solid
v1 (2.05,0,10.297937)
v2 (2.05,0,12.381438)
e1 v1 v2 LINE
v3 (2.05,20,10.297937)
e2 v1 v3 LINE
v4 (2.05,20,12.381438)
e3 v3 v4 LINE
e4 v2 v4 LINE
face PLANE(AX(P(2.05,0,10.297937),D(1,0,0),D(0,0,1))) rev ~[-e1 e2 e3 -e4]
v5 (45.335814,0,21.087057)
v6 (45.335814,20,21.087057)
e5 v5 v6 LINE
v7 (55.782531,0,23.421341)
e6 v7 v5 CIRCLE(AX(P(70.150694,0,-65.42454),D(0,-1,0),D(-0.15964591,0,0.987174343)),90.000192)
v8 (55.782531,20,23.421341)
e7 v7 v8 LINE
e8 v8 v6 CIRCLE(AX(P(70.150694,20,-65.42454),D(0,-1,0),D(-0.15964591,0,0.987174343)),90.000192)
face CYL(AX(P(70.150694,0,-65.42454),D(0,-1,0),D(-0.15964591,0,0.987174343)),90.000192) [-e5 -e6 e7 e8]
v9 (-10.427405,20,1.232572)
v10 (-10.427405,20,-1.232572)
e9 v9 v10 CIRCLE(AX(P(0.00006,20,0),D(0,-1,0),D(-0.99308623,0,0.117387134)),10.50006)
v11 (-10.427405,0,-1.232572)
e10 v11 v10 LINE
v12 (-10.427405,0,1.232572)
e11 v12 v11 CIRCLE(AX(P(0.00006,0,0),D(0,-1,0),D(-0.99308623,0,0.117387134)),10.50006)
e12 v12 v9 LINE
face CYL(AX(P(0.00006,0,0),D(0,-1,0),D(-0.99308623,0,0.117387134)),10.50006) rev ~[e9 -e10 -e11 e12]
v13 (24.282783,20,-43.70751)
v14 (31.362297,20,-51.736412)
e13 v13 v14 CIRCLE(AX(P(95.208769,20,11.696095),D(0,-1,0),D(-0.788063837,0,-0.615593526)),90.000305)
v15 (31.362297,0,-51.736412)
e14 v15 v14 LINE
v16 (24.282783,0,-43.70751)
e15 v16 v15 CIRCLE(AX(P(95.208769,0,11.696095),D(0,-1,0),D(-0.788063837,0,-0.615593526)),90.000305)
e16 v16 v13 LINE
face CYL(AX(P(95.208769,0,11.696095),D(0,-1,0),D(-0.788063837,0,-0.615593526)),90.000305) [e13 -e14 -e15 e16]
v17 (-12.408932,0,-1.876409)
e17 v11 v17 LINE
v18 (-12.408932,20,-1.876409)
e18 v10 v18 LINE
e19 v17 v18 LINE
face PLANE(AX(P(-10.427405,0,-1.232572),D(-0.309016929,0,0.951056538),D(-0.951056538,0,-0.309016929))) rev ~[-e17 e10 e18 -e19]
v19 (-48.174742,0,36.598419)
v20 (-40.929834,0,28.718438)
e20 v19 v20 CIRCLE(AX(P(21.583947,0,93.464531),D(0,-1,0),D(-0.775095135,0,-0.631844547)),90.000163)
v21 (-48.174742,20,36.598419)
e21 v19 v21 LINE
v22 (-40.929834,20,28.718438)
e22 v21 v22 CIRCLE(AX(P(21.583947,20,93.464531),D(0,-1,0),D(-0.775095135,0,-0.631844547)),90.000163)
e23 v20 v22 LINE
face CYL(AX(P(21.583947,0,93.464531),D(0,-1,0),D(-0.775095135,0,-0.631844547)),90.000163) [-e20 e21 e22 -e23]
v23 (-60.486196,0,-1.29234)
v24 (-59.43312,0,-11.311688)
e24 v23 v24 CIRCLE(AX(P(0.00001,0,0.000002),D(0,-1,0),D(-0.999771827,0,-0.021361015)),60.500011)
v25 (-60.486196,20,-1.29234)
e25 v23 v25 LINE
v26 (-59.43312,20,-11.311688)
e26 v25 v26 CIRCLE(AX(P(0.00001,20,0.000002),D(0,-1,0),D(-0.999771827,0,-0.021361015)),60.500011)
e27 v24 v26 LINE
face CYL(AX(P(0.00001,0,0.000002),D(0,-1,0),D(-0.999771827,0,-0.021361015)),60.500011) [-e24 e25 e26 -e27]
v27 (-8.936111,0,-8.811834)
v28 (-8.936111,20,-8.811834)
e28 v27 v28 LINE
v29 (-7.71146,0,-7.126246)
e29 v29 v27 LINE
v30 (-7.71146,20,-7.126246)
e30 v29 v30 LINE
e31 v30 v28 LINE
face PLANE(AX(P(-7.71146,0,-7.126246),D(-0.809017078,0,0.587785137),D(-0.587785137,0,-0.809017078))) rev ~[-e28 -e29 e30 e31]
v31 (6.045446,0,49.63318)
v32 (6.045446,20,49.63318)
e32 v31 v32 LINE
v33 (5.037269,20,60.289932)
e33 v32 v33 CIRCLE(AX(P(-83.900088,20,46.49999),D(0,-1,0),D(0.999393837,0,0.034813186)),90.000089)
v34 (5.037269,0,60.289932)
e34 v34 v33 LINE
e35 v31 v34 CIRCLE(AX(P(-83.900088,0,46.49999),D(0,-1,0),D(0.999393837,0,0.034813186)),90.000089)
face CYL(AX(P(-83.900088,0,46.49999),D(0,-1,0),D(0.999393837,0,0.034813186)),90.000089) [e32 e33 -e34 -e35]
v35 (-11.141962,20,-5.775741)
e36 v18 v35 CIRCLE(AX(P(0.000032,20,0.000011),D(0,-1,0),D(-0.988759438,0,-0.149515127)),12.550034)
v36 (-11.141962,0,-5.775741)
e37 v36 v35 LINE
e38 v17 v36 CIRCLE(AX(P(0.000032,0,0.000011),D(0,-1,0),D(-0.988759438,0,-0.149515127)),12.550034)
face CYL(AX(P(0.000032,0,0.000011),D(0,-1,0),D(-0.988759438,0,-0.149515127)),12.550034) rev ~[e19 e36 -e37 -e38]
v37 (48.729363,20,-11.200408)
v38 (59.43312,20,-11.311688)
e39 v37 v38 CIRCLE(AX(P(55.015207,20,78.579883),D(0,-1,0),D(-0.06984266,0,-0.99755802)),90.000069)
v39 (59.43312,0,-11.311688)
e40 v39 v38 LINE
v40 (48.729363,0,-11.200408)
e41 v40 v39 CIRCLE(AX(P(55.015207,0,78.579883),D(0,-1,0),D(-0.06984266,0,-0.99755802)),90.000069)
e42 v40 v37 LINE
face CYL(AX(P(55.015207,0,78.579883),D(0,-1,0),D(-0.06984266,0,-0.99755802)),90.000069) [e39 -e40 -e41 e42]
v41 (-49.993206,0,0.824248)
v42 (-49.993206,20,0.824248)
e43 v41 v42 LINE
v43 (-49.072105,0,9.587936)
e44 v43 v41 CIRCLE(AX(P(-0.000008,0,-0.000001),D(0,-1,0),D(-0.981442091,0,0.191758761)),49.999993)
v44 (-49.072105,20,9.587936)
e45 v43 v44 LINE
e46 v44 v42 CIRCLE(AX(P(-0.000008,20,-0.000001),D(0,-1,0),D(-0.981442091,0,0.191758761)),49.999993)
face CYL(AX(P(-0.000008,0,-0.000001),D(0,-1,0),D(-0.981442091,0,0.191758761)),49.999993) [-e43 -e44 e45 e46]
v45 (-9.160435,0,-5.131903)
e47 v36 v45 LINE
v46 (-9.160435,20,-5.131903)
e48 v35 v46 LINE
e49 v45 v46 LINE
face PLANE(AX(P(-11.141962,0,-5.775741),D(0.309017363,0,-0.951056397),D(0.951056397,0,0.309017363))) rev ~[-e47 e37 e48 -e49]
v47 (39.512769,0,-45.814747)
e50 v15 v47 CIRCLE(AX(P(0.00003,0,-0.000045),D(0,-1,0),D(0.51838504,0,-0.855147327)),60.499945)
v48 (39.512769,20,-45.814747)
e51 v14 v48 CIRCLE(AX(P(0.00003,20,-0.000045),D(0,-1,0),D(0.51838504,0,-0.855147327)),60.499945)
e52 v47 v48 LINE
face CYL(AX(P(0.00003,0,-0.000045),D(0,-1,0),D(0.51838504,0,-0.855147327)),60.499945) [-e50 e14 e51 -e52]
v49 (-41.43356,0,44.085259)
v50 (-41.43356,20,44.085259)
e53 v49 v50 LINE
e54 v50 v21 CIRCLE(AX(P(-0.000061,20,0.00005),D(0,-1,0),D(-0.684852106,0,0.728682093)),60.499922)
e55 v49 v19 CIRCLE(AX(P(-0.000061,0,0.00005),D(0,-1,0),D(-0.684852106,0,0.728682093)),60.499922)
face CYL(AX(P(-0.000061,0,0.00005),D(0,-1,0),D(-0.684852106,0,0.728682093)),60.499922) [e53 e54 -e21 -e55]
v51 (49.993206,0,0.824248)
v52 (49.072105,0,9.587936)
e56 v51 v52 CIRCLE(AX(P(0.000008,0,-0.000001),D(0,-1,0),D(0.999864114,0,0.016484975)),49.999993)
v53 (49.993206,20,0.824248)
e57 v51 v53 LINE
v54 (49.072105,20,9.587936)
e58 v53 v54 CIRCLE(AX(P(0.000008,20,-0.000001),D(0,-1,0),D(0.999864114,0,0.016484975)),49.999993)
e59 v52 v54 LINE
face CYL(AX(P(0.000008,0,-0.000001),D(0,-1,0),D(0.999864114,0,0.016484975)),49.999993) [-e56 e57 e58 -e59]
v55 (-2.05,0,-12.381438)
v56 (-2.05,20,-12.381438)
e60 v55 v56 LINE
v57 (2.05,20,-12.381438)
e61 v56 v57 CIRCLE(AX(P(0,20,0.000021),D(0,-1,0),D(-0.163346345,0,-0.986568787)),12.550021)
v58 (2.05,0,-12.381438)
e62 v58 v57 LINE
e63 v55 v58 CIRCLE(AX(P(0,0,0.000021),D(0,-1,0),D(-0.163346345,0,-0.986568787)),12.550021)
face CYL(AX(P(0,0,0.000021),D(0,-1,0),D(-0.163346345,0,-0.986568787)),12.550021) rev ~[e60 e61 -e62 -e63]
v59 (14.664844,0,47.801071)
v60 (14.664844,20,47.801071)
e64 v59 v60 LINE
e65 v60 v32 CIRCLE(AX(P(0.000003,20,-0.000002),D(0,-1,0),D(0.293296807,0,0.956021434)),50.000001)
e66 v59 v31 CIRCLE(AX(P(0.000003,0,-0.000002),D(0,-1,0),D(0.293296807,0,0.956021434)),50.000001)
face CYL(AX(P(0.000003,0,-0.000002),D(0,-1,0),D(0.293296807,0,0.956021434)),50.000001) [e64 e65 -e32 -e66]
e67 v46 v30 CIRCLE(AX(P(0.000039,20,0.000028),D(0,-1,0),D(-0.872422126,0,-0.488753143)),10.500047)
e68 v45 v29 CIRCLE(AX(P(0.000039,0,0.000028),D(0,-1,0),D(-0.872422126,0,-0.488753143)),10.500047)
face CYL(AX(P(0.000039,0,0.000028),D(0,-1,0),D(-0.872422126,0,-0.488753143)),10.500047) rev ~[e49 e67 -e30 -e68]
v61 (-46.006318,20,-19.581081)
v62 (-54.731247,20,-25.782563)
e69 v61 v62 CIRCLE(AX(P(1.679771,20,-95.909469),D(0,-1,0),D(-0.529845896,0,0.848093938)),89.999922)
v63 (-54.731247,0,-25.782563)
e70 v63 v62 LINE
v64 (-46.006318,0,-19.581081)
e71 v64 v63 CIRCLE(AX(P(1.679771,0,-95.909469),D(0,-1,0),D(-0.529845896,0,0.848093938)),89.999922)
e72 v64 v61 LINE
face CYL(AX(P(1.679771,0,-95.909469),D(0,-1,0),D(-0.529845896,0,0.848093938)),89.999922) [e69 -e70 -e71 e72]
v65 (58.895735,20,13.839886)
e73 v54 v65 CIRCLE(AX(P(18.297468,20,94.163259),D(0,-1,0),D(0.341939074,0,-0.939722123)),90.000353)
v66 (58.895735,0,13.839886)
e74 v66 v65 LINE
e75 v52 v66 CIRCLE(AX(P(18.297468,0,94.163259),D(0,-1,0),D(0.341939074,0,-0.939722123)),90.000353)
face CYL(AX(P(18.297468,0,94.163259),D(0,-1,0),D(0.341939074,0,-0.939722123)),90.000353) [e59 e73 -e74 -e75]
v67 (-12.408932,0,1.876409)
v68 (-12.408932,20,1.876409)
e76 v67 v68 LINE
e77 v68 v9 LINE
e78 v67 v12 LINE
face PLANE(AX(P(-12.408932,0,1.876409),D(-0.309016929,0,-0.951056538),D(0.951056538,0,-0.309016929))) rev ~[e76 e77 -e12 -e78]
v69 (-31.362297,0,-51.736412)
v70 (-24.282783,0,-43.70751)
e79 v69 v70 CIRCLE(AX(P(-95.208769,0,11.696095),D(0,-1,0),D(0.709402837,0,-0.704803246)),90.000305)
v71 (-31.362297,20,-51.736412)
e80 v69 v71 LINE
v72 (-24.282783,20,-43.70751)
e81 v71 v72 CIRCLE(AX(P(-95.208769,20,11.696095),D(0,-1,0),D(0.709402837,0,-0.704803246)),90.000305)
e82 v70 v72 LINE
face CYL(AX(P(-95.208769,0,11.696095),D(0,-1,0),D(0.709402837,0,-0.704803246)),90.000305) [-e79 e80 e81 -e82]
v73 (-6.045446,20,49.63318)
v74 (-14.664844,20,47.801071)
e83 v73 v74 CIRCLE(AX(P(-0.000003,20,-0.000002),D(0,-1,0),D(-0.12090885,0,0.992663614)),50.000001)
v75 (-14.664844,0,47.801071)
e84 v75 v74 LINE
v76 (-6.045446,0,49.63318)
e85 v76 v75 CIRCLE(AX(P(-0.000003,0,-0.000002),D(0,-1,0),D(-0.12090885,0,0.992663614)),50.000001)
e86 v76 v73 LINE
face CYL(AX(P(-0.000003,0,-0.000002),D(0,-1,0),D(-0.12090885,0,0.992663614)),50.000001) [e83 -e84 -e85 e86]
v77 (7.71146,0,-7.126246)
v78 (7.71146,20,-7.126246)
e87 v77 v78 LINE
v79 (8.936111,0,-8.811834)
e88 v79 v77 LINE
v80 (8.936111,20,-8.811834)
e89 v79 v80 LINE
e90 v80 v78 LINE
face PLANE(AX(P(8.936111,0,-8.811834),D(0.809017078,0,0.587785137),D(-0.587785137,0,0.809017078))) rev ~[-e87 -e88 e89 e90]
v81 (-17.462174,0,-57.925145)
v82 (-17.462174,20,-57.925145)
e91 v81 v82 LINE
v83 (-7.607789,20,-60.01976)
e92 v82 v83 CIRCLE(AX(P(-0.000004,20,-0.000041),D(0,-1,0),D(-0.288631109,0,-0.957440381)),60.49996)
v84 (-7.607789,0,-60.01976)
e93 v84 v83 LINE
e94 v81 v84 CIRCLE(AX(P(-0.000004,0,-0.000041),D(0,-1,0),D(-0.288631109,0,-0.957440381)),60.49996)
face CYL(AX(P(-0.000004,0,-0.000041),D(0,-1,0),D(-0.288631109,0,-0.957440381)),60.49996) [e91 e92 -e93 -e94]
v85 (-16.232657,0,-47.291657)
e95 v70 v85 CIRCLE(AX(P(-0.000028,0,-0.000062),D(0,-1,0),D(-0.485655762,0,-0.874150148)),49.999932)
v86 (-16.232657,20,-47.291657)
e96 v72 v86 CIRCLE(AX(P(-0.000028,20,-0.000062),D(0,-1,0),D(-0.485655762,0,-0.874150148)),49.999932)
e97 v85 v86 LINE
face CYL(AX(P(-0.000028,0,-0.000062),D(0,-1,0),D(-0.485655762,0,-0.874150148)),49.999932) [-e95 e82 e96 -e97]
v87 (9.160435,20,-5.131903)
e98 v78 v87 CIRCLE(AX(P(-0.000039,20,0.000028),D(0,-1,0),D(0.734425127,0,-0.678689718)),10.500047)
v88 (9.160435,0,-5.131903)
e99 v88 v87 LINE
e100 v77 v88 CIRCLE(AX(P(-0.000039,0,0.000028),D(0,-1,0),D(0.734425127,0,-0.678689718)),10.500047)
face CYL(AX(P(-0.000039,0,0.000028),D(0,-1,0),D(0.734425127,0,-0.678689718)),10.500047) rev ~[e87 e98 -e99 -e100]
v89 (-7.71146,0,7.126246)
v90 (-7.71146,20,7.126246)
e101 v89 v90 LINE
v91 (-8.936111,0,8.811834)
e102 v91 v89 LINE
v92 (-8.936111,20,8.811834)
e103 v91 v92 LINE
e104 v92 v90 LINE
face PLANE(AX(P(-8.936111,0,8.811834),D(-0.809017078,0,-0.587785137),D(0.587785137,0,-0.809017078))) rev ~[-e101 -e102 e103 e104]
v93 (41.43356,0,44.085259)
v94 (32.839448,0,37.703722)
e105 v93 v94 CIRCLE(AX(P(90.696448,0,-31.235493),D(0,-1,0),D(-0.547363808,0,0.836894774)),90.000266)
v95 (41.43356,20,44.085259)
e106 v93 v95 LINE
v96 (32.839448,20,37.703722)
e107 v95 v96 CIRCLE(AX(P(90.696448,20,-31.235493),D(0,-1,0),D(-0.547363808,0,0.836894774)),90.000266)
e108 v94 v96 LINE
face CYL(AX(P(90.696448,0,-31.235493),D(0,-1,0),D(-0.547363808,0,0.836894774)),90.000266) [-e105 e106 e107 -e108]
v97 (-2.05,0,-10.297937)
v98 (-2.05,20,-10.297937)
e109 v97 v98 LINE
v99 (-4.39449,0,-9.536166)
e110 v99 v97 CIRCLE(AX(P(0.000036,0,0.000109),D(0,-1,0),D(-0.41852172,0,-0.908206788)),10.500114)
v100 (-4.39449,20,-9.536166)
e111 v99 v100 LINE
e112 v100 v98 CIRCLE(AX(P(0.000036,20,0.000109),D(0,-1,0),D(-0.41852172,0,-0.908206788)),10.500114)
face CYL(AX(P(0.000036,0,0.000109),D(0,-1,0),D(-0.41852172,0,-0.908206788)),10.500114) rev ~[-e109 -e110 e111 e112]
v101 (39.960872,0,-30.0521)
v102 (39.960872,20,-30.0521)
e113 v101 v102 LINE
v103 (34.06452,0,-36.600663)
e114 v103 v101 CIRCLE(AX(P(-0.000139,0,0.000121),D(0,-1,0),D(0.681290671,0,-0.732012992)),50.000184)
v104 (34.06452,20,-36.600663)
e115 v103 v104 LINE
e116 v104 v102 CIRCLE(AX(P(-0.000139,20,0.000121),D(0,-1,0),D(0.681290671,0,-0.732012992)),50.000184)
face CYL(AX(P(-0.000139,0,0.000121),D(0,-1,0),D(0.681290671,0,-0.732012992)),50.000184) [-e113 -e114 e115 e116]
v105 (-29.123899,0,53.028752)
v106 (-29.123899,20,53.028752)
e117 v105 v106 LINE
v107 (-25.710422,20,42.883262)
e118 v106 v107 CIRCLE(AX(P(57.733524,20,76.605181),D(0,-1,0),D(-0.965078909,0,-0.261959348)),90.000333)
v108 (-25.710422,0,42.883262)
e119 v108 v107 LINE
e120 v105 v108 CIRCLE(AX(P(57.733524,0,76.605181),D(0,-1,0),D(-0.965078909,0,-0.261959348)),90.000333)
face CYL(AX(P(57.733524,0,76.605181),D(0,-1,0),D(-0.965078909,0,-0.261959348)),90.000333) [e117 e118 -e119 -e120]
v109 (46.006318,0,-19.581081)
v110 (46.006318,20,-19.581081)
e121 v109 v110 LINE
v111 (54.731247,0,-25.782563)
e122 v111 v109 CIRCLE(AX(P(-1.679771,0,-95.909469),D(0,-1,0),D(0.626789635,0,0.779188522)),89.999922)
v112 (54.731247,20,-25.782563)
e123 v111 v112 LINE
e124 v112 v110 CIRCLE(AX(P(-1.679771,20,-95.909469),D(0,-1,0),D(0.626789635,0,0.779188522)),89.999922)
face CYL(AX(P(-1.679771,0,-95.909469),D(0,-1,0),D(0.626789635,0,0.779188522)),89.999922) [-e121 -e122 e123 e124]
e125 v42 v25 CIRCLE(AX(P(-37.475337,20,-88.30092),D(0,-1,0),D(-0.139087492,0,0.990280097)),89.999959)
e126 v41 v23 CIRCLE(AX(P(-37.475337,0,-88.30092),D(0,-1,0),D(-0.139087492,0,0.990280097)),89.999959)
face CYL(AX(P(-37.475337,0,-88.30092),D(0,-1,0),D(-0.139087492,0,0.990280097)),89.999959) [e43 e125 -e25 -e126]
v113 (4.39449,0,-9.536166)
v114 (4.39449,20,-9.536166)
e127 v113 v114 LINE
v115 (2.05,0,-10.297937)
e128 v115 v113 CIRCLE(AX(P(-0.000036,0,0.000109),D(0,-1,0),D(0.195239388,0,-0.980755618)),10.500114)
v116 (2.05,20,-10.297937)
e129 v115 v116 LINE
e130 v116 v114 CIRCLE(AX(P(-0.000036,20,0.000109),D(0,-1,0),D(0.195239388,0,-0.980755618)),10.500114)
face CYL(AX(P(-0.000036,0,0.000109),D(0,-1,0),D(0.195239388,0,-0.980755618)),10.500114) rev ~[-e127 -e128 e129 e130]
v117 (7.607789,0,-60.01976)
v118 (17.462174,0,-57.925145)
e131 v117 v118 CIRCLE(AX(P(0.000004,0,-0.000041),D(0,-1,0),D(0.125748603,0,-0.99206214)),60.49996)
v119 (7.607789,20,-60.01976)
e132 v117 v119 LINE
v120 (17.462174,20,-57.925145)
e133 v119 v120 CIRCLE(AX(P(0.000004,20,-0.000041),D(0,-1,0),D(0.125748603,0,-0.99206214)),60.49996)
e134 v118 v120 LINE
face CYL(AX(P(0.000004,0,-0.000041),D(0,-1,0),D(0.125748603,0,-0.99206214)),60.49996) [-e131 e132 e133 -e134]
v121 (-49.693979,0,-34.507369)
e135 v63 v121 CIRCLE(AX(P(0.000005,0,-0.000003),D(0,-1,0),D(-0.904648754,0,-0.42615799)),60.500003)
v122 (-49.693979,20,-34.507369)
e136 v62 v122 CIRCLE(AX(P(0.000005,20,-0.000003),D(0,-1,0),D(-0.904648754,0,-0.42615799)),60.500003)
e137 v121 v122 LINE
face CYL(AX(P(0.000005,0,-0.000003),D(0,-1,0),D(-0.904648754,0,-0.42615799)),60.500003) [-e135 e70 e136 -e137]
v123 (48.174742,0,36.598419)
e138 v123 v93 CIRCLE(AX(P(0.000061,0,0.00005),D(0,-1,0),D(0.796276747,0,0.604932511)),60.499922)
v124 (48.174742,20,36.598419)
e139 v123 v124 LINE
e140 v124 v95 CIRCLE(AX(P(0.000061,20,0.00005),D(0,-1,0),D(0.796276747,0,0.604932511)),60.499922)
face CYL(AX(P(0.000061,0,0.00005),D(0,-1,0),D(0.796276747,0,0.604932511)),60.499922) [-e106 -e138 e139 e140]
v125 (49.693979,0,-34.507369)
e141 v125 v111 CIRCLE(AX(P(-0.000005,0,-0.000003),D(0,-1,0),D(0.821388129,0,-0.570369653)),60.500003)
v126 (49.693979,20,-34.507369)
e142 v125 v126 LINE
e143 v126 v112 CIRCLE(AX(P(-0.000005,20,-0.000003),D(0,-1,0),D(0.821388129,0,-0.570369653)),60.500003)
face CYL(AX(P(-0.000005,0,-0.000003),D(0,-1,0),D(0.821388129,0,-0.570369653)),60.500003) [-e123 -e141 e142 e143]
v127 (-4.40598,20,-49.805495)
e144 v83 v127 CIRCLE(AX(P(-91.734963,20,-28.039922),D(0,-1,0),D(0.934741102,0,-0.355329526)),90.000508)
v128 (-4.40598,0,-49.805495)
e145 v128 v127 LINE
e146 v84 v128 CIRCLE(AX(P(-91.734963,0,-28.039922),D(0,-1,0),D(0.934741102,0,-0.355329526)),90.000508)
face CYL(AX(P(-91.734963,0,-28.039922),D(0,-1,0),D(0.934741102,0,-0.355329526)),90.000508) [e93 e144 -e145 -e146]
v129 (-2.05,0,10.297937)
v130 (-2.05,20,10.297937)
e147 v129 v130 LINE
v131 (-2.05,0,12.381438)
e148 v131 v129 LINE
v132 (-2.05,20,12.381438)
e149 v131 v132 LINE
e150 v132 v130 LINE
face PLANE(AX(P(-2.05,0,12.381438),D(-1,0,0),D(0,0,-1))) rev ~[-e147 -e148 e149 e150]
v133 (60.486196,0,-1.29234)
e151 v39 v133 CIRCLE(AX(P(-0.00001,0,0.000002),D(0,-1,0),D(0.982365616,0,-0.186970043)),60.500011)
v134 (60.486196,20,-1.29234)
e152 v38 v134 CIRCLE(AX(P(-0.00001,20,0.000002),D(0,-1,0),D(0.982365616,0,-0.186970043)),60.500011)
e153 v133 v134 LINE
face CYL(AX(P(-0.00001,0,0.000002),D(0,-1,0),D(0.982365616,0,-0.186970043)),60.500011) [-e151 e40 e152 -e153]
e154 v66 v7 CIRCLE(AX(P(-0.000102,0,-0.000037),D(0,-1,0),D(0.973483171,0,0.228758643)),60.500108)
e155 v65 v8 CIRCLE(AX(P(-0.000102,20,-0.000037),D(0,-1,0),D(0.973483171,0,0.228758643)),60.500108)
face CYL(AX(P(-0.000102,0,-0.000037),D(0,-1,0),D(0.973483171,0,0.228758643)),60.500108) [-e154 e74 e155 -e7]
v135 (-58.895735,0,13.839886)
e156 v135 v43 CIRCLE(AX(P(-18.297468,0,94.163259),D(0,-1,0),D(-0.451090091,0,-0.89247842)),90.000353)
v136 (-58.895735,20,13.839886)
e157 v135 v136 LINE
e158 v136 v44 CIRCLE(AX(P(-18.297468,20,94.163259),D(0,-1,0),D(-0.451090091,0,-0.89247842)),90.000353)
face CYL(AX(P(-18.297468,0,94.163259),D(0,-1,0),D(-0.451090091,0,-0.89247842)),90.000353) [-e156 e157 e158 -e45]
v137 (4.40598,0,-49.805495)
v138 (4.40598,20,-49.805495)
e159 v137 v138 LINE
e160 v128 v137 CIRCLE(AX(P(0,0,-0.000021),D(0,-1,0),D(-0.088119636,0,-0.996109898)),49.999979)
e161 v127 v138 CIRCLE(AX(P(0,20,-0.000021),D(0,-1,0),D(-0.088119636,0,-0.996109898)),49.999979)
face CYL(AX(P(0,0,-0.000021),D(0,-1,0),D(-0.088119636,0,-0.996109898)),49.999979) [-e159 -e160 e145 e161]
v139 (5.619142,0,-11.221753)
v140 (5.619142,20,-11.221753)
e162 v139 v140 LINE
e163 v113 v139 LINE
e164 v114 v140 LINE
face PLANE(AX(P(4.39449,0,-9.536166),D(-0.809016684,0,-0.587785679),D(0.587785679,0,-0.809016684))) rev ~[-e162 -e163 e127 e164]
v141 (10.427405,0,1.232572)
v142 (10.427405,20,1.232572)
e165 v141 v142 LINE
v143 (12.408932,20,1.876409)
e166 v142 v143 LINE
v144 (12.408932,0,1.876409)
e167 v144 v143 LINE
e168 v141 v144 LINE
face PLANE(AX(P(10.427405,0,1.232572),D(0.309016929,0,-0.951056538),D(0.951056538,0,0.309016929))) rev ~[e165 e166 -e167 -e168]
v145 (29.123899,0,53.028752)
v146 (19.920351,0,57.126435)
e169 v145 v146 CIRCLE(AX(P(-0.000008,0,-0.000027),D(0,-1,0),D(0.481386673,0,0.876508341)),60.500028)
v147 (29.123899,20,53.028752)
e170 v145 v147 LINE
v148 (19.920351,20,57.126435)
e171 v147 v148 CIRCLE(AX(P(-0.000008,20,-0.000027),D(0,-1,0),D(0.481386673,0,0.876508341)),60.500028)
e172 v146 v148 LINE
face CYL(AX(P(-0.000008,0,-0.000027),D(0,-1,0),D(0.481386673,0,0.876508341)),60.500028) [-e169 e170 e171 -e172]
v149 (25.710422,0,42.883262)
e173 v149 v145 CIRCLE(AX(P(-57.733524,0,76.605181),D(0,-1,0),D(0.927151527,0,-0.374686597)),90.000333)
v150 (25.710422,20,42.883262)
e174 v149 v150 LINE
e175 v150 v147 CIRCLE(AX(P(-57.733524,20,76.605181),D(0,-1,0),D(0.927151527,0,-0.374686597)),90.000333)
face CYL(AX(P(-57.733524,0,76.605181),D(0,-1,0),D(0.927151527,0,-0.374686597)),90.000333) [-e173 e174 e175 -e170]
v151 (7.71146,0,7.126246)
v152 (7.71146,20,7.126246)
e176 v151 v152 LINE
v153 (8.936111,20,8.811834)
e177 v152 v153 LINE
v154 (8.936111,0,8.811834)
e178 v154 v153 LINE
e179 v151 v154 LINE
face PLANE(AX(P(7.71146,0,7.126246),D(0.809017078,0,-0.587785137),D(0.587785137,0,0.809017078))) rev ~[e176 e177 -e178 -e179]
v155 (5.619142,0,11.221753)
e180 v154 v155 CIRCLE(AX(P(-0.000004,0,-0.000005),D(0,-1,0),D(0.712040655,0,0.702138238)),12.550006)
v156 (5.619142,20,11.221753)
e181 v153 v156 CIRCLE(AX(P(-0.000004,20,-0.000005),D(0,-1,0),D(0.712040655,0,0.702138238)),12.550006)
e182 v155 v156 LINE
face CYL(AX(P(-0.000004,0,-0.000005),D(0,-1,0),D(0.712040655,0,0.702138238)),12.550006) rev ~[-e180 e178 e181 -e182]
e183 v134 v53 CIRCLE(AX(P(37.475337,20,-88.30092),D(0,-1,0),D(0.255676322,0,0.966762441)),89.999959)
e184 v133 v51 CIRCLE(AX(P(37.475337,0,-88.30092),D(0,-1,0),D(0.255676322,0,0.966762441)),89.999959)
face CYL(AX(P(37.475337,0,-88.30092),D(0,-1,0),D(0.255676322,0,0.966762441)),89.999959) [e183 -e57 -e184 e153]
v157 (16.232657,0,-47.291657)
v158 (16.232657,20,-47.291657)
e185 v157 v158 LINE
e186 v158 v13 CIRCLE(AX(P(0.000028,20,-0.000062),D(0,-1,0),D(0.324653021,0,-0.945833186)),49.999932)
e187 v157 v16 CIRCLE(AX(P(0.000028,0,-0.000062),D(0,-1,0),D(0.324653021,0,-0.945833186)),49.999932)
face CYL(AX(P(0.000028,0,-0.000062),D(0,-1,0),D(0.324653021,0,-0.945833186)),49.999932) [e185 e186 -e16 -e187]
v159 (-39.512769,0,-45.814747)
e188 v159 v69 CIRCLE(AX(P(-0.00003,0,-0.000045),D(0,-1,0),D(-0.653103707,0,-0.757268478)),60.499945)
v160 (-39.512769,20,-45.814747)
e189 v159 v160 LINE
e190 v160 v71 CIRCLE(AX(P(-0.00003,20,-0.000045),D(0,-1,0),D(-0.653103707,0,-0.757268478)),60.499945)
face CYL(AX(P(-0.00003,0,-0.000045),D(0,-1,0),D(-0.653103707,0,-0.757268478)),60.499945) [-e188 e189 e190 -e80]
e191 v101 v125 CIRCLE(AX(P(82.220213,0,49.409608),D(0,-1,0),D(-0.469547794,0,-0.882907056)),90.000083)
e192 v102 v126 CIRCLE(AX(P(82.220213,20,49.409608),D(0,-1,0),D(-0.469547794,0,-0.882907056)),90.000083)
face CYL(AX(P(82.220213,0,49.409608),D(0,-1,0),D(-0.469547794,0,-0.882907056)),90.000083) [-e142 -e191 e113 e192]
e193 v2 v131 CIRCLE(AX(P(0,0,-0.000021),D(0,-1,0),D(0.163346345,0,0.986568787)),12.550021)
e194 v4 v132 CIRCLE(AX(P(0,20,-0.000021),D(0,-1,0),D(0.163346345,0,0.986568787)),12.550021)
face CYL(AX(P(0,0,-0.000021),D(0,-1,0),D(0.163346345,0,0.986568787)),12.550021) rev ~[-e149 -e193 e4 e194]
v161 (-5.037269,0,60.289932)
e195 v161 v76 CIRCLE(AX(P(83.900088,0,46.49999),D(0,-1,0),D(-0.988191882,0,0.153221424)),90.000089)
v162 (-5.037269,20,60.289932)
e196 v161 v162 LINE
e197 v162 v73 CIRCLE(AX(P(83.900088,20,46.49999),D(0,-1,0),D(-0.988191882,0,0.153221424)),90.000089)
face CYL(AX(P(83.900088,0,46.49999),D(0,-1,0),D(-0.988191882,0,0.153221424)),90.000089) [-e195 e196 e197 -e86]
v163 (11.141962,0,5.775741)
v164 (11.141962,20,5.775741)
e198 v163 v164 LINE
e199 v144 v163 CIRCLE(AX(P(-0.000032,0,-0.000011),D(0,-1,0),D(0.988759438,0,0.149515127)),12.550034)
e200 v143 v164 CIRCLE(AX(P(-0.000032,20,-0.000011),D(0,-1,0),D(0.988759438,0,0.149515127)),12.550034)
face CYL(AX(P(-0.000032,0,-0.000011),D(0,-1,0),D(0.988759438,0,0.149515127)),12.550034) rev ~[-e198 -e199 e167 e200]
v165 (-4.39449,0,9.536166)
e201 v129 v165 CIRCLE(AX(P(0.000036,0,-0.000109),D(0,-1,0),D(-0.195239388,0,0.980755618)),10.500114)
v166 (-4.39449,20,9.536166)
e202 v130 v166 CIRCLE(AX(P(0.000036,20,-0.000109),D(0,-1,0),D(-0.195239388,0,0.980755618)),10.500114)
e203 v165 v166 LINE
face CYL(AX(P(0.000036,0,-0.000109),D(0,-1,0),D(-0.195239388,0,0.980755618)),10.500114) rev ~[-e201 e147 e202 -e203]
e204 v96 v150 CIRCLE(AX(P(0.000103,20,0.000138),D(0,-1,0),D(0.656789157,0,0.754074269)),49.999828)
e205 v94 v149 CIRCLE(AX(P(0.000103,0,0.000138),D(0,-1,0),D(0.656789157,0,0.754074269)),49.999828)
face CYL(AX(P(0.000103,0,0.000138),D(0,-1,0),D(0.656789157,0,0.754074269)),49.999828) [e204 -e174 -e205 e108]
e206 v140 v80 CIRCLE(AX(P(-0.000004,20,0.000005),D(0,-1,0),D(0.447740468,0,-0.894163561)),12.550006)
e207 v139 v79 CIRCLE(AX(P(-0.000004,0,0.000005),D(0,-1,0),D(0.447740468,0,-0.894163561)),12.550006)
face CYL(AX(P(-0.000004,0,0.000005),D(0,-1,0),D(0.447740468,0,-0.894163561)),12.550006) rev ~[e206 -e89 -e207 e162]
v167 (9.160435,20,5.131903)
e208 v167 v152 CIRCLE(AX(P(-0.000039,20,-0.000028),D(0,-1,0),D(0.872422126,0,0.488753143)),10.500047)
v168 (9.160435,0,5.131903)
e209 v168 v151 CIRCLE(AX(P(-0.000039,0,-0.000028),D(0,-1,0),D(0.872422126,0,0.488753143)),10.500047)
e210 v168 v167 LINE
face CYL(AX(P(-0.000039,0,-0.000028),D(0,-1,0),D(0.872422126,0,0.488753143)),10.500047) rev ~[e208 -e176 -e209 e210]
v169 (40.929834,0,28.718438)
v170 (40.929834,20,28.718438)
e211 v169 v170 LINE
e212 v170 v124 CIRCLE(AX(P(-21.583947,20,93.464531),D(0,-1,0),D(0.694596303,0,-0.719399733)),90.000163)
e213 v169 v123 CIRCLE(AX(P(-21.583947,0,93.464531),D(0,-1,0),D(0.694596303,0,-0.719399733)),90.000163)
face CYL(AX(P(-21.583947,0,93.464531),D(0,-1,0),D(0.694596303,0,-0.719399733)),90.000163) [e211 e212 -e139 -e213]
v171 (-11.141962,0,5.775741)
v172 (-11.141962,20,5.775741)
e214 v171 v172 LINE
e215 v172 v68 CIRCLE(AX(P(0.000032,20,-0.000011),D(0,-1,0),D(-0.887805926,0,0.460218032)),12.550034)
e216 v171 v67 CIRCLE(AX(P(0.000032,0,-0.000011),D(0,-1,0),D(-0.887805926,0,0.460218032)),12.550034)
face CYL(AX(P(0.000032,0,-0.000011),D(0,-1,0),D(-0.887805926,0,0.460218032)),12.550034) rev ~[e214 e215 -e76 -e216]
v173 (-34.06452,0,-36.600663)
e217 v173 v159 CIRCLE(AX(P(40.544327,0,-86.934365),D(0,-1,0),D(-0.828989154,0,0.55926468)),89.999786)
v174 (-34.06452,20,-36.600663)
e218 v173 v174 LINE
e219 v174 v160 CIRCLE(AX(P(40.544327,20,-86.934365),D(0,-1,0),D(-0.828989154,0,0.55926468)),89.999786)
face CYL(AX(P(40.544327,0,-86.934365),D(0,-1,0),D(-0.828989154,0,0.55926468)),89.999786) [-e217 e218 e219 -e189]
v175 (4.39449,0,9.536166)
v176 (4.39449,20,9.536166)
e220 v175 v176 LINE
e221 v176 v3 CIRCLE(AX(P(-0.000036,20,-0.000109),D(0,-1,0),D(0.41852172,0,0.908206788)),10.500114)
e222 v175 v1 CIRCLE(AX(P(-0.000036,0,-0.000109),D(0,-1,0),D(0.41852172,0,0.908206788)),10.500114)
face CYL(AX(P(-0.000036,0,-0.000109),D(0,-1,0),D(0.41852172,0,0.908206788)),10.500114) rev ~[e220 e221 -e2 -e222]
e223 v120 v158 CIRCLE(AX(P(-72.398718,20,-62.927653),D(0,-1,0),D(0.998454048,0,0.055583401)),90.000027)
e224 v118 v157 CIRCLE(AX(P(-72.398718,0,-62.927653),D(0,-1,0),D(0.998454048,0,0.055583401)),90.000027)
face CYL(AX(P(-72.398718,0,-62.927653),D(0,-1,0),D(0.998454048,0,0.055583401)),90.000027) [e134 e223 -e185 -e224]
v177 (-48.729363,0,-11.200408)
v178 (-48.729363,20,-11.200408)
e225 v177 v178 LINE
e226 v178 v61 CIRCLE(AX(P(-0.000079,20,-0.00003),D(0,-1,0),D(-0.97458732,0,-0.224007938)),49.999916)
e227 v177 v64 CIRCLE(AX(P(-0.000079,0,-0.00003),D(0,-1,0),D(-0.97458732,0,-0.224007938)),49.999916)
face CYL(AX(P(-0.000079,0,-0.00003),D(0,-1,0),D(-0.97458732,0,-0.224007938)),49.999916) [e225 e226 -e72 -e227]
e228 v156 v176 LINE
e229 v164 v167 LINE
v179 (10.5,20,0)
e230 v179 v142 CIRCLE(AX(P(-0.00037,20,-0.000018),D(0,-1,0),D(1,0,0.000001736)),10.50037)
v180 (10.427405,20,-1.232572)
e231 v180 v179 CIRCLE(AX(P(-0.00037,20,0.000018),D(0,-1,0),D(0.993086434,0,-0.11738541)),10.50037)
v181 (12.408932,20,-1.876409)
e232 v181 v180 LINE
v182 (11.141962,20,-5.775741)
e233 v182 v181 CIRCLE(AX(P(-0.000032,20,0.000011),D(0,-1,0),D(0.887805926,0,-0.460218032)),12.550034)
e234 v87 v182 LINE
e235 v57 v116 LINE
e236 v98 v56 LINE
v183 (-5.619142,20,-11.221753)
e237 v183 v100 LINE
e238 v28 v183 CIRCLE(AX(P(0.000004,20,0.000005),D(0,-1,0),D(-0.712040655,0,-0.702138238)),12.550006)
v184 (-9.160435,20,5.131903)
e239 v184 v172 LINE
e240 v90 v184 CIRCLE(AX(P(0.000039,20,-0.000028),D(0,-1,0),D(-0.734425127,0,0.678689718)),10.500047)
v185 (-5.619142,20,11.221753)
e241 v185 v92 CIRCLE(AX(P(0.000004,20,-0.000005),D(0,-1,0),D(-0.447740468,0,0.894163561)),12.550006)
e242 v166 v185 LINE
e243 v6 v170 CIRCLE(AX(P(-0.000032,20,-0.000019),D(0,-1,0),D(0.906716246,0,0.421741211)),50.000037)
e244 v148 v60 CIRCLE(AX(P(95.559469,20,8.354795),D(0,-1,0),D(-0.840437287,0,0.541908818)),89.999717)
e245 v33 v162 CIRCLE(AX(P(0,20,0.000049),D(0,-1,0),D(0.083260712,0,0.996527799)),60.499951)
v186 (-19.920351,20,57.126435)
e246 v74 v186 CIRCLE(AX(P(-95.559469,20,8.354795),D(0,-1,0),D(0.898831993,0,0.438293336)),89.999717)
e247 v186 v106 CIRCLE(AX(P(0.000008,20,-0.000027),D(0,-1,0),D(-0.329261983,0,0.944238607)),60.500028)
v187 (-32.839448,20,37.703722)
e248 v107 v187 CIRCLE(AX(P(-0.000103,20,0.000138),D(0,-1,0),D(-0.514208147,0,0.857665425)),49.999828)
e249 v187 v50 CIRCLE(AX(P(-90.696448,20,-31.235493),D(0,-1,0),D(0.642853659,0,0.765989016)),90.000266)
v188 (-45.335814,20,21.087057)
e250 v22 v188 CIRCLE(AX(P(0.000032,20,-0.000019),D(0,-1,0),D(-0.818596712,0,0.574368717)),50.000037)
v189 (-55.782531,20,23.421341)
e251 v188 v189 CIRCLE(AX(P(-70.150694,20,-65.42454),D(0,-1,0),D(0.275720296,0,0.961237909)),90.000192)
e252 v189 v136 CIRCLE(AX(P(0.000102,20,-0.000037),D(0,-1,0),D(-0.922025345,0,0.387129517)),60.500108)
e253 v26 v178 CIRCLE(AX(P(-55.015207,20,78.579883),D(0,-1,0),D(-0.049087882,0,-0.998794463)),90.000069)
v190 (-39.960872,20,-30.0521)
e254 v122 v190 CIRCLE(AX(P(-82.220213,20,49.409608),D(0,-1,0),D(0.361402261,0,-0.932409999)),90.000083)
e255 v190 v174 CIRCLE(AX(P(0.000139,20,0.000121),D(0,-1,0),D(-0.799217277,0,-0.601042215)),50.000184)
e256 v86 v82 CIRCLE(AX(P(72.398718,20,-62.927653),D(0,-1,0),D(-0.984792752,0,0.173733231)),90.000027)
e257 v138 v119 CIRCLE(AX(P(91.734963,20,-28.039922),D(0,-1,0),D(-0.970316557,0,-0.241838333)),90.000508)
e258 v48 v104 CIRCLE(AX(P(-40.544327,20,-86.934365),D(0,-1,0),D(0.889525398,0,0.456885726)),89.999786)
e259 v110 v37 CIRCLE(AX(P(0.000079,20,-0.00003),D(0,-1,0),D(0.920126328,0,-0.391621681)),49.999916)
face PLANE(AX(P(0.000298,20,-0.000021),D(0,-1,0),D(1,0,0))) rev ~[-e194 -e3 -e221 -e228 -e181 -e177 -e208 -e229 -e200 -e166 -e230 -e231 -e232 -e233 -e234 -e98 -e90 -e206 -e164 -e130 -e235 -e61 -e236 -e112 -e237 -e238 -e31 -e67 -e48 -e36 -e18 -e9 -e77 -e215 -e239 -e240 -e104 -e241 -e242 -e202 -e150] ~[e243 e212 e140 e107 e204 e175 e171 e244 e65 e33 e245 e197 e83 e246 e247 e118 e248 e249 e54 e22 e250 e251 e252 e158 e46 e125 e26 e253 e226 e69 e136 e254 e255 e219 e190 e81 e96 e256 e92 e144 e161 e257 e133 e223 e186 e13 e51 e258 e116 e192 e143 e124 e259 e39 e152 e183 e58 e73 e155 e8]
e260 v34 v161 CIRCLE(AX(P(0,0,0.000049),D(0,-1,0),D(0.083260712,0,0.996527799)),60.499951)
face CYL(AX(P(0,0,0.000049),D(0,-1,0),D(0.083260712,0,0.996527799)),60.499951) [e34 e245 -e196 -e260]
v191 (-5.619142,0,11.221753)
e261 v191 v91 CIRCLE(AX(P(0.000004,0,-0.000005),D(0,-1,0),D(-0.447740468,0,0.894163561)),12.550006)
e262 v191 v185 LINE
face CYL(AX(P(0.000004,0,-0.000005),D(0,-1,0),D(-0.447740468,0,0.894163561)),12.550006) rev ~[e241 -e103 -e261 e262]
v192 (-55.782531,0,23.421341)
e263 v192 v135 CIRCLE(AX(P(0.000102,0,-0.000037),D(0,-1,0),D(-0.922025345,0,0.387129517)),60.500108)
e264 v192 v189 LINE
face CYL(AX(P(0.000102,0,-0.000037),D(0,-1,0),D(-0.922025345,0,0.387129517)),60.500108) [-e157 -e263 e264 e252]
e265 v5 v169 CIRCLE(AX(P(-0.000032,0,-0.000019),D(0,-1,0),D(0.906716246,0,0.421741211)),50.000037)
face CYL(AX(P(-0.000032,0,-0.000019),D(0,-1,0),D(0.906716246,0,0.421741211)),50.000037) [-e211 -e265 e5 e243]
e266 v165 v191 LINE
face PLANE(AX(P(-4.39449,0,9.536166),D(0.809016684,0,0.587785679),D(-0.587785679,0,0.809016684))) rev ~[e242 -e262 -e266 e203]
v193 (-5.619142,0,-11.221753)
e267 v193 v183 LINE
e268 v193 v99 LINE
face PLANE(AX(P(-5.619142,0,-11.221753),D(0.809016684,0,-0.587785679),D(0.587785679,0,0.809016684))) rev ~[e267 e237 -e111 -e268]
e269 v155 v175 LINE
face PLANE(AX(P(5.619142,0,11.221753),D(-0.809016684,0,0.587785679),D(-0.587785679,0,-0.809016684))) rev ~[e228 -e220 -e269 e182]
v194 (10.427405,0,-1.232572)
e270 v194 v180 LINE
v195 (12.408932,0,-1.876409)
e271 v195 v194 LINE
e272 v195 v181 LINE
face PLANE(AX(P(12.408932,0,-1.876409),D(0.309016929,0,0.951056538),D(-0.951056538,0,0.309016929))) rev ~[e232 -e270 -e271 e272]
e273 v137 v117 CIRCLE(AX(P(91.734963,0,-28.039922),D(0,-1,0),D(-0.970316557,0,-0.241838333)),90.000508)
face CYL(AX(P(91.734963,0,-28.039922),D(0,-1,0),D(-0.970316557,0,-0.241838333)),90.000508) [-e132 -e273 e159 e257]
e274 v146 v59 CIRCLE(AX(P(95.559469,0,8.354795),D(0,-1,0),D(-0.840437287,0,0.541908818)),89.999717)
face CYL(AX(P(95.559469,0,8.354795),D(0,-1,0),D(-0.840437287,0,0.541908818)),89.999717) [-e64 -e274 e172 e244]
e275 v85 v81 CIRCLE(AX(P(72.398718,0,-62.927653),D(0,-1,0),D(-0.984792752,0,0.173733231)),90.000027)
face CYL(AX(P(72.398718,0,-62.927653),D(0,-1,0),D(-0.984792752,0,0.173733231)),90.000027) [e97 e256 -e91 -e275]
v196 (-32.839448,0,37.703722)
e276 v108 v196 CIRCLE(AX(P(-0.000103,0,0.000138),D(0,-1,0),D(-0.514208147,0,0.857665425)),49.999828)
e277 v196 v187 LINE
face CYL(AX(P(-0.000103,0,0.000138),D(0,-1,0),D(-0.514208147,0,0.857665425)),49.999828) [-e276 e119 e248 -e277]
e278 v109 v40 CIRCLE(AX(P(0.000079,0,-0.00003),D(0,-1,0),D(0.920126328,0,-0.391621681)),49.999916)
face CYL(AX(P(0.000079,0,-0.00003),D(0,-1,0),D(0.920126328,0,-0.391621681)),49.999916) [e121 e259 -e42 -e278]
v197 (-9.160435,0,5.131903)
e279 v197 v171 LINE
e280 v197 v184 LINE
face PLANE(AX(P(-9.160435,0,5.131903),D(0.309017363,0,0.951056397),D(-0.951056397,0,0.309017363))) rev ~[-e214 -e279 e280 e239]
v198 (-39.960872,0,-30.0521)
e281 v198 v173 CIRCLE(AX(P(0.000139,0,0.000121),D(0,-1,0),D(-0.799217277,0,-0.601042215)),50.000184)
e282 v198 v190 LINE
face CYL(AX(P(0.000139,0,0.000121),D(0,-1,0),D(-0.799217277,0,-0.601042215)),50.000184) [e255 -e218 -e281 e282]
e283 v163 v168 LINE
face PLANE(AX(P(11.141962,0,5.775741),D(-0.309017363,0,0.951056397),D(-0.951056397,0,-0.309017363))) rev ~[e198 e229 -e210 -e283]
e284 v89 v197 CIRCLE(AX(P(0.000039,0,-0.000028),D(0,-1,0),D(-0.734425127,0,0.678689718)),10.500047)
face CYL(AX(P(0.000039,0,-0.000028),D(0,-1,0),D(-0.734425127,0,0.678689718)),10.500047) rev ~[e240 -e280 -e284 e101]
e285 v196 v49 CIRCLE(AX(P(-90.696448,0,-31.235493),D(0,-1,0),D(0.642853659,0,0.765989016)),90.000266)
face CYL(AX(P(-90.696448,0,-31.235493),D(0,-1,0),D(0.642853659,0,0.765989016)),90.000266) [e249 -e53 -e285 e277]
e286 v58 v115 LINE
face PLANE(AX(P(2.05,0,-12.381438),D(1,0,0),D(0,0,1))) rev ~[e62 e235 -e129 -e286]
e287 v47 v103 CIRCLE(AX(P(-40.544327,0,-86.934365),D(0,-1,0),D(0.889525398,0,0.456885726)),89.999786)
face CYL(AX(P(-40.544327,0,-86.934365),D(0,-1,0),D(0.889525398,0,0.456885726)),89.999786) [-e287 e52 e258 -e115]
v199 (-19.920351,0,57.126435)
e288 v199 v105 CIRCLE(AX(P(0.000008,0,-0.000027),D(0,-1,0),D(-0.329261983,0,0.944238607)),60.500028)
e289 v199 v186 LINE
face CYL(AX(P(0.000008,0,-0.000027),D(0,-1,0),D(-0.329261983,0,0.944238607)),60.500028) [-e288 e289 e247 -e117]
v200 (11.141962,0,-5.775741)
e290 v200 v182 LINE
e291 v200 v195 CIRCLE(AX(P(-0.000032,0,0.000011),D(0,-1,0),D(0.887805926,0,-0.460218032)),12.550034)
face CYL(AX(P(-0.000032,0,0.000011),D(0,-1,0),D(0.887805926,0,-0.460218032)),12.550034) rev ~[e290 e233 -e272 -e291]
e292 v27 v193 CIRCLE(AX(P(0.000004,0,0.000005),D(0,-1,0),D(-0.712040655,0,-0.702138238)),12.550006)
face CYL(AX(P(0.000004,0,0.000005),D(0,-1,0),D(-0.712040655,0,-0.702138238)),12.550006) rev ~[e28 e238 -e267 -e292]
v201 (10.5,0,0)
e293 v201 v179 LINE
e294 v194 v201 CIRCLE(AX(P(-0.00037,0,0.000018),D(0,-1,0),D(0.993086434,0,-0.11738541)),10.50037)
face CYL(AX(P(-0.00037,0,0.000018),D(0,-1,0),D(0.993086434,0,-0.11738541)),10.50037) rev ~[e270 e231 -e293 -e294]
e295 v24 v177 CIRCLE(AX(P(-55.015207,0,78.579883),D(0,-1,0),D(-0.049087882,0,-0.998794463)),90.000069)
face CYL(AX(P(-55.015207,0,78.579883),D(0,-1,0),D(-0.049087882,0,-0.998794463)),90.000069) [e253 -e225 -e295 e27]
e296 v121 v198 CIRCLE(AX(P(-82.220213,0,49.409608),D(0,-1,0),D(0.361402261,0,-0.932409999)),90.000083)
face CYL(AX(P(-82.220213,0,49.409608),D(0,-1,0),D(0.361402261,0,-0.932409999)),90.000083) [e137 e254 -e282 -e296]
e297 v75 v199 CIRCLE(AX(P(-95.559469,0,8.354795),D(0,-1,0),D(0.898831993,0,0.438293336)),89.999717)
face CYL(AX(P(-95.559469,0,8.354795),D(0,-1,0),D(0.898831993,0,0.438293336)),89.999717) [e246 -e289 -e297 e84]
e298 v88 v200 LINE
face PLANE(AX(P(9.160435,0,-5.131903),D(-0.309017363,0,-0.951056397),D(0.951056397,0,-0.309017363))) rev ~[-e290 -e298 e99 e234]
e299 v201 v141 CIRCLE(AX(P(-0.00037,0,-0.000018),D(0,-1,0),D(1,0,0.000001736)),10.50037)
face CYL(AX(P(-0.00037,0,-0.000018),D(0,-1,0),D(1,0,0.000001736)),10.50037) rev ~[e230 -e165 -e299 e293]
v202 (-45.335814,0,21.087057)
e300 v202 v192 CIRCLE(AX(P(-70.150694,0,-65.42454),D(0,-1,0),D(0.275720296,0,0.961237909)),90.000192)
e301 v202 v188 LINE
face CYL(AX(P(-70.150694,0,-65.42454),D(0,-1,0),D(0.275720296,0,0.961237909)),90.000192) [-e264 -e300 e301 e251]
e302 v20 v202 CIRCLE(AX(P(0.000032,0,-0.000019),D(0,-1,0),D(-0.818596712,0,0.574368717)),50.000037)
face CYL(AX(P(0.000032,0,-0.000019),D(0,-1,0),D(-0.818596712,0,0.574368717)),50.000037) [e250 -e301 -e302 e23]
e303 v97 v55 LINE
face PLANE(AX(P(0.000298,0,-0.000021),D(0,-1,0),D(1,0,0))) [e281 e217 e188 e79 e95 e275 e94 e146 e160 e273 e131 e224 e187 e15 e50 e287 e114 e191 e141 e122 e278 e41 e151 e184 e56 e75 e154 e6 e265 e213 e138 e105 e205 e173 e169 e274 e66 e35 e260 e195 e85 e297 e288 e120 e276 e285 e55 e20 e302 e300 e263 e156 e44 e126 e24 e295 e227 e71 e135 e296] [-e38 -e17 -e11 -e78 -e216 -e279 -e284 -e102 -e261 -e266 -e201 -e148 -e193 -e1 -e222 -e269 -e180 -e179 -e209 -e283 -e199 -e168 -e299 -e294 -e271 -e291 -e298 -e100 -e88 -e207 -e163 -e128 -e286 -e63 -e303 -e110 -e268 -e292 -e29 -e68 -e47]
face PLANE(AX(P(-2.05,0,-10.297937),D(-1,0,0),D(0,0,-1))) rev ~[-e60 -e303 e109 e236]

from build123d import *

# Parameters (mm, degrees)
F1_DEPTH = 20
F3_DEPTH = 20


with BuildPart() as f1:
    # F0 (on Front) → F1 (new body)
    with BuildSketch(Plane.XZ):
        with BuildLine():
            ThreePointArc((48.729363, -11.200408), (49.681325, -5.636126), (50, 0))
            ThreePointArc((50, 0), (49.998301, 0.412138), (49.993206, 0.824248))
            ThreePointArc((49.993206, 0.824248), (49.726095, 5.226423), (49.072105, 9.587936))
            ThreePointArc((49.072105, 9.587936), (47.552826, 15.45085), (45.335814, 21.087057))
            ThreePointArc((45.335814, 21.087057), (43.30127, 25), (40.929834, 28.718438))
            ThreePointArc((40.929834, 28.718438), (37.157241, 33.45653), (32.839448, 37.703722))
            ThreePointArc((32.839448, 37.703722), (29.389263, 40.45085), (25.710422, 42.883262))
            ThreePointArc((25.710422, 42.883262), (20.336832, 45.677273), (14.664844, 47.801071))
            ThreePointArc((14.664844, 47.801071), (10.395585, 48.90738), (6.045446, 49.63318))
            ThreePointArc((6.045446, 49.63318), (0, 50), (-6.045446, 49.63318))
            ThreePointArc((-6.045446, 49.63318), (-10.395585, 48.90738), (-14.664844, 47.801071))
            ThreePointArc((-14.664844, 47.801071), (-20.336832, 45.677273), (-25.710422, 42.883262))
            ThreePointArc((-25.710422, 42.883262), (-29.389263, 40.45085), (-32.839448, 37.703722))
            ThreePointArc((-32.839448, 37.703722), (-37.157241, 33.45653), (-40.929834, 28.718438))
            ThreePointArc((-40.929834, 28.718438), (-43.30127, 25), (-45.335814, 21.087057))
            ThreePointArc((-45.335814, 21.087057), (-47.552826, 15.45085), (-49.072105, 9.587936))
            ThreePointArc((-49.072105, 9.587936), (-49.726095, 5.226423), (-49.993206, 0.824248))
            ThreePointArc((-49.993206, 0.824248), (-49.726095, -5.226423), (-48.729363, -11.200408))
            ThreePointArc((-48.729363, -11.200408), (-47.552826, -15.45085), (-46.006318, -19.581081))
            ThreePointArc((-46.006318, -19.581081), (-43.30127, -25), (-39.960872, -30.0521))
            ThreePointArc((-39.960872, -30.0521), (-37.157241, -33.45653), (-34.06452, -36.600663))
            ThreePointArc((-34.06452, -36.600663), (-29.389263, -40.45085), (-24.282783, -43.70751))
            ThreePointArc((-24.282783, -43.70751), (-20.336832, -45.677273), (-16.232657, -47.291657))
            ThreePointArc((-16.232657, -47.291657), (-10.395585, -48.90738), (-4.40598, -49.805495))
            ThreePointArc((-4.40598, -49.805495), (0, -50), (4.40598, -49.805495))
            ThreePointArc((4.40598, -49.805495), (10.395585, -48.90738), (16.232657, -47.291657))
            ThreePointArc((16.232657, -47.291657), (20.336832, -45.677273), (24.282783, -43.70751))
            ThreePointArc((24.282783, -43.70751), (29.389263, -40.45085), (34.06452, -36.600663))
            ThreePointArc((34.06452, -36.600663), (37.157241, -33.45653), (39.960872, -30.0521))
            ThreePointArc((39.960872, -30.0521), (43.30127, -25), (46.006318, -19.581081))
            ThreePointArc((46.006318, -19.581081), (47.552826, -15.45085), (48.729363, -11.200408))
        make_face()
        with BuildLine():
            ThreePointArc((49.993206, 0.824248), (49.998301, 0.412138), (50, 0))
            ThreePointArc((50, 0), (49.681325, -5.636126), (48.729363, -11.200408))
            ThreePointArc((48.729363, -11.200408), (54.079586, -11.415323), (59.43312, -11.311688))
            ThreePointArc((59.43312, -11.311688), (60.168575, -6.323972), (60.486196, -1.29234))
            ThreePointArc((60.486196, -1.29234), (55.271196, -0.077907), (49.993206, 0.824248))
        make_face()
        with BuildLine():
            ThreePointArc((45.335814, 21.087057), (47.552826, 15.45085), (49.072105, 9.587936))
            ThreePointArc((49.072105, 9.587936), (54.04719, 11.567733), (58.895735, 13.839886))
            ThreePointArc((58.895735, 13.839886), (57.538919, 18.695528), (55.782531, 23.421341))
            ThreePointArc((55.782531, 23.421341), (50.524438, 22.409649), (45.335814, 21.087057))
        make_face()
        with BuildLine():
            ThreePointArc((54.731247, -25.782563), (50.461062, -22.551992), (46.006318, -19.581081))
            ThreePointArc((46.006318, -19.581081), (43.30127, -25), (39.960872, -30.0521))
            ThreePointArc((39.960872, -30.0521), (44.76113, -32.424566), (49.693979, -34.507369))
            ThreePointArc((49.693979, -34.507369), (52.394537, -30.25), (54.731247, -25.782563))
        make_face()
        with BuildLine():
            ThreePointArc((32.839448, 37.703722), (37.157241, 33.45653), (40.929834, 28.718438))
            ThreePointArc((40.929834, 28.718438), (44.669544, 32.550622), (48.174742, 36.598419))
            ThreePointArc((48.174742, 36.598419), (44.960262, 40.482402), (41.43356, 44.085259))
            ThreePointArc((41.43356, 44.085259), (37.041545, 41.022373), (32.839448, 37.703722))
        make_face()
        with BuildLine():
            ThreePointArc((39.512769, -45.814747), (36.925753, -41.126633), (34.06452, -36.600663))
            ThreePointArc((34.06452, -36.600663), (29.389263, -40.45085), (24.282783, -43.70751))
            ThreePointArc((24.282783, -43.70751), (27.703068, -47.827306), (31.362297, -51.736412))
            ThreePointArc((31.362297, -51.736412), (35.561008, -48.945528), (39.512769, -45.814747))
        make_face()
        with BuildLine():
            ThreePointArc((14.664844, 47.801071), (20.336832, 45.677273), (25.710422, 42.883262))
            ThreePointArc((25.710422, 42.883262), (27.568128, 47.905214), (29.123899, 53.028752))
            ThreePointArc((29.123899, 53.028752), (24.607567, 55.2695), (19.920351, 57.126435))
            ThreePointArc((19.920351, 57.126435), (17.153833, 52.541957), (14.664844, 47.801071))
        make_face()
        with BuildLine():
            ThreePointArc((17.462174, -57.925145), (17.005645, -52.590106), (16.232657, -47.291657))
            ThreePointArc((16.232657, -47.291657), (10.395585, -48.90738), (4.40598, -49.805495))
            ThreePointArc((4.40598, -49.805495), (5.854894, -54.960271), (7.607789, -60.01976))
            ThreePointArc((7.607789, -60.01976), (12.578657, -59.17793), (17.462174, -57.925145))
        make_face()
        with BuildLine():
            ThreePointArc((-6.045446, 49.63318), (0, 50), (6.045446, 49.63318))
            ThreePointArc((6.045446, 49.63318), (5.699933, 54.976558), (5.037269, 60.289932))
            ThreePointArc((5.037269, 60.289932), (0, 60.5), (-5.037269, 60.289932))
            ThreePointArc((-5.037269, 60.289932), (-5.699933, 54.976558), (-6.045446, 49.63318))
        make_face()
        with BuildLine():
            ThreePointArc((-7.607789, -60.01976), (-5.854894, -54.960271), (-4.40598, -49.805495))
            ThreePointArc((-4.40598, -49.805495), (-10.395585, -48.90738), (-16.232657, -47.291657))
            ThreePointArc((-16.232657, -47.291657), (-17.005645, -52.590106), (-17.462174, -57.925145))
            ThreePointArc((-17.462174, -57.925145), (-12.578657, -59.17793), (-7.607789, -60.01976))
        make_face()
        with BuildLine():
            ThreePointArc((-25.710422, 42.883262), (-20.336832, 45.677273), (-14.664844, 47.801071))
            ThreePointArc((-14.664844, 47.801071), (-17.153833, 52.541957), (-19.920351, 57.126435))
            ThreePointArc((-19.920351, 57.126435), (-24.607567, 55.2695), (-29.123899, 53.028752))
            ThreePointArc((-29.123899, 53.028752), (-27.568128, 47.905214), (-25.710422, 42.883262))
        make_face()
        with BuildLine():
            ThreePointArc((-31.362297, -51.736412), (-27.703068, -47.827306), (-24.282783, -43.70751))
            ThreePointArc((-24.282783, -43.70751), (-29.389263, -40.45085), (-34.06452, -36.600663))
            ThreePointArc((-34.06452, -36.600663), (-36.925753, -41.126633), (-39.512769, -45.814747))
            ThreePointArc((-39.512769, -45.814747), (-35.561008, -48.945528), (-31.362297, -51.736412))
        make_face()
        with BuildLine():
            ThreePointArc((-40.929834, 28.718438), (-37.157241, 33.45653), (-32.839448, 37.703722))
            ThreePointArc((-32.839448, 37.703722), (-37.041545, 41.022373), (-41.43356, 44.085259))
            ThreePointArc((-41.43356, 44.085259), (-44.960262, 40.482402), (-48.174742, 36.598419))
            ThreePointArc((-48.174742, 36.598419), (-44.669544, 32.550622), (-40.929834, 28.718438))
        make_face()
        with BuildLine():
            ThreePointArc((-49.693979, -34.507369), (-44.76113, -32.424566), (-39.960872, -30.0521))
            ThreePointArc((-39.960872, -30.0521), (-43.30127, -25), (-46.006318, -19.581081))
            ThreePointArc((-46.006318, -19.581081), (-50.461062, -22.551992), (-54.731247, -25.782563))
            ThreePointArc((-54.731247, -25.782563), (-52.394537, -30.25), (-49.693979, -34.507369))
        make_face()
        with BuildLine():
            ThreePointArc((-49.072105, 9.587936), (-47.552826, 15.45085), (-45.335814, 21.087057))
            ThreePointArc((-45.335814, 21.087057), (-50.524438, 22.409649), (-55.782531, 23.421341))
            ThreePointArc((-55.782531, 23.421341), (-57.538919, 18.695528), (-58.895735, 13.839886))
            ThreePointArc((-58.895735, 13.839886), (-54.04719, 11.567733), (-49.072105, 9.587936))
        make_face()
        with BuildLine():
            ThreePointArc((-59.43312, -11.311688), (-54.079586, -11.415323), (-48.729363, -11.200408))
            ThreePointArc((-48.729363, -11.200408), (-49.726095, -5.226423), (-49.993206, 0.824248))
            ThreePointArc((-49.993206, 0.824248), (-55.271196, -0.077907), (-60.486196, -1.29234))
            ThreePointArc((-60.486196, -1.29234), (-60.168575, -6.323972), (-59.43312, -11.311688))
        make_face()
    extrude(amount=-F1_DEPTH)

    # F2 (on Front) → F3 (cut)
    with BuildSketch(Plane.XZ):
        with BuildLine():
            ThreePointArc((10.427405, -1.232572), (10.481835, -0.617354), (10.5, 0))
            ThreePointArc((10.5, 0), (10.481835, 0.617354), (10.427405, 1.232572))
            ThreePointArc((10.427405, 1.232572), (9.986093, 3.244678), (9.160435, 5.131903))
            ThreePointArc((9.160435, 5.131903), (8.494678, 6.171745), (7.71146, 7.126246))
            ThreePointArc((7.71146, 7.126246), (6.171745, 8.494678), (4.39449, 9.536166))
            ThreePointArc((4.39449, 9.536166), (3.244678, 9.986093), (2.05, 10.297937))
            ThreePointArc((2.05, 10.297937), (0, 10.5), (-2.05, 10.297937))
            ThreePointArc((-2.05, 10.297937), (-3.244678, 9.986093), (-4.39449, 9.536166))
            ThreePointArc((-4.39449, 9.536166), (-6.171745, 8.494678), (-7.71146, 7.126246))
            ThreePointArc((-7.71146, 7.126246), (-8.494678, 6.171745), (-9.160435, 5.131903))
            ThreePointArc((-9.160435, 5.131903), (-9.986093, 3.244678), (-10.427405, 1.232572))
            ThreePointArc((-10.427405, 1.232572), (-10.5, 0), (-10.427405, -1.232572))
            ThreePointArc((-10.427405, -1.232572), (-9.986093, -3.244678), (-9.160435, -5.131903))
            ThreePointArc((-9.160435, -5.131903), (-8.494678, -6.171745), (-7.71146, -7.126246))
            ThreePointArc((-7.71146, -7.126246), (-6.171745, -8.494678), (-4.39449, -9.536166))
            ThreePointArc((-4.39449, -9.536166), (-3.244678, -9.986093), (-2.05, -10.297937))
            ThreePointArc((-2.05, -10.297937), (0, -10.5), (2.05, -10.297937))
            ThreePointArc((2.05, -10.297937), (3.244678, -9.986093), (4.39449, -9.536166))
            ThreePointArc((4.39449, -9.536166), (6.171745, -8.494678), (7.71146, -7.126246))
            ThreePointArc((7.71146, -7.126246), (8.494678, -6.171745), (9.160435, -5.131903))
            ThreePointArc((9.160435, -5.131903), (9.986093, -3.244678), (10.427405, -1.232572))
        make_face()
        with BuildLine():
            ThreePointArc((9.160435, 5.131903), (9.986093, 3.244678), (10.427405, 1.232572))
            Line((10.427405, 1.232572), (12.408932, 1.876409))
            ThreePointArc((12.408932, 1.876409), (11.935759, 3.878163), (11.141962, 5.775741))
            Line((11.141962, 5.775741), (9.160435, 5.131903))
        make_face()
        with BuildLine():
            Line((12.408932, -1.876409), (10.427405, -1.232572))
            ThreePointArc((10.427405, -1.232572), (9.986093, -3.244678), (9.160435, -5.131903))
            Line((9.160435, -5.131903), (11.141962, -5.775741))
            ThreePointArc((11.141962, -5.775741), (11.935759, -3.878163), (12.408932, -1.876409))
        make_face()
        with BuildLine():
            ThreePointArc((4.39449, 9.536166), (6.171745, 8.494678), (7.71146, 7.126246))
            Line((7.71146, 7.126246), (8.936111, 8.811834))
            ThreePointArc((8.936111, 8.811834), (7.376705, 10.153163), (5.619142, 11.221753))
            Line((5.619142, 11.221753), (4.39449, 9.536166))
        make_face()
        with BuildLine():
            Line((8.936111, -8.811834), (7.71146, -7.126246))
            ThreePointArc((7.71146, -7.126246), (6.171745, -8.494678), (4.39449, -9.536166))
            Line((4.39449, -9.536166), (5.619142, -11.221753))
            ThreePointArc((5.619142, -11.221753), (7.376705, -10.153163), (8.936111, -8.811834))
        make_face()
        with BuildLine():
            ThreePointArc((-2.05, 10.297937), (0, 10.5), (2.05, 10.297937))
            Line((2.05, 10.297937), (2.05, 12.381438))
            ThreePointArc((2.05, 12.381438), (0, 12.55), (-2.05, 12.381438))
            Line((-2.05, 12.381438), (-2.05, 10.297937))
        make_face()
        with BuildLine():
            Line((2.05, -12.381438), (2.05, -10.297937))
            ThreePointArc((2.05, -10.297937), (0, -10.5), (-2.05, -10.297937))
            Line((-2.05, -10.297937), (-2.05, -12.381438))
            ThreePointArc((-2.05, -12.381438), (0, -12.55), (2.05, -12.381438))
        make_face()
        with BuildLine():
            ThreePointArc((-7.71146, 7.126246), (-6.171745, 8.494678), (-4.39449, 9.536166))
            Line((-4.39449, 9.536166), (-5.619142, 11.221753))
            ThreePointArc((-5.619142, 11.221753), (-7.376705, 10.153163), (-8.936111, 8.811834))
            Line((-8.936111, 8.811834), (-7.71146, 7.126246))
        make_face()
        with BuildLine():
            Line((-5.619142, -11.221753), (-4.39449, -9.536166))
            ThreePointArc((-4.39449, -9.536166), (-6.171745, -8.494678), (-7.71146, -7.126246))
            Line((-7.71146, -7.126246), (-8.936111, -8.811834))
            ThreePointArc((-8.936111, -8.811834), (-7.376705, -10.153163), (-5.619142, -11.221753))
        make_face()
        with BuildLine():
            ThreePointArc((-10.427405, 1.232572), (-9.986093, 3.244678), (-9.160435, 5.131903))
            Line((-9.160435, 5.131903), (-11.141962, 5.775741))
            ThreePointArc((-11.141962, 5.775741), (-11.935759, 3.878163), (-12.408932, 1.876409))
            Line((-12.408932, 1.876409), (-10.427405, 1.232572))
        make_face()
        with BuildLine():
            Line((-11.141962, -5.775741), (-9.160435, -5.131903))
            ThreePointArc((-9.160435, -5.131903), (-9.986093, -3.244678), (-10.427405, -1.232572))
            Line((-10.427405, -1.232572), (-12.408932, -1.876409))
            ThreePointArc((-12.408932, -1.876409), (-11.935759, -3.878163), (-11.141962, -5.775741))
        make_face()
    extrude(amount=-F3_DEPTH, mode=Mode.SUBTRACT)


solid = f1.part
